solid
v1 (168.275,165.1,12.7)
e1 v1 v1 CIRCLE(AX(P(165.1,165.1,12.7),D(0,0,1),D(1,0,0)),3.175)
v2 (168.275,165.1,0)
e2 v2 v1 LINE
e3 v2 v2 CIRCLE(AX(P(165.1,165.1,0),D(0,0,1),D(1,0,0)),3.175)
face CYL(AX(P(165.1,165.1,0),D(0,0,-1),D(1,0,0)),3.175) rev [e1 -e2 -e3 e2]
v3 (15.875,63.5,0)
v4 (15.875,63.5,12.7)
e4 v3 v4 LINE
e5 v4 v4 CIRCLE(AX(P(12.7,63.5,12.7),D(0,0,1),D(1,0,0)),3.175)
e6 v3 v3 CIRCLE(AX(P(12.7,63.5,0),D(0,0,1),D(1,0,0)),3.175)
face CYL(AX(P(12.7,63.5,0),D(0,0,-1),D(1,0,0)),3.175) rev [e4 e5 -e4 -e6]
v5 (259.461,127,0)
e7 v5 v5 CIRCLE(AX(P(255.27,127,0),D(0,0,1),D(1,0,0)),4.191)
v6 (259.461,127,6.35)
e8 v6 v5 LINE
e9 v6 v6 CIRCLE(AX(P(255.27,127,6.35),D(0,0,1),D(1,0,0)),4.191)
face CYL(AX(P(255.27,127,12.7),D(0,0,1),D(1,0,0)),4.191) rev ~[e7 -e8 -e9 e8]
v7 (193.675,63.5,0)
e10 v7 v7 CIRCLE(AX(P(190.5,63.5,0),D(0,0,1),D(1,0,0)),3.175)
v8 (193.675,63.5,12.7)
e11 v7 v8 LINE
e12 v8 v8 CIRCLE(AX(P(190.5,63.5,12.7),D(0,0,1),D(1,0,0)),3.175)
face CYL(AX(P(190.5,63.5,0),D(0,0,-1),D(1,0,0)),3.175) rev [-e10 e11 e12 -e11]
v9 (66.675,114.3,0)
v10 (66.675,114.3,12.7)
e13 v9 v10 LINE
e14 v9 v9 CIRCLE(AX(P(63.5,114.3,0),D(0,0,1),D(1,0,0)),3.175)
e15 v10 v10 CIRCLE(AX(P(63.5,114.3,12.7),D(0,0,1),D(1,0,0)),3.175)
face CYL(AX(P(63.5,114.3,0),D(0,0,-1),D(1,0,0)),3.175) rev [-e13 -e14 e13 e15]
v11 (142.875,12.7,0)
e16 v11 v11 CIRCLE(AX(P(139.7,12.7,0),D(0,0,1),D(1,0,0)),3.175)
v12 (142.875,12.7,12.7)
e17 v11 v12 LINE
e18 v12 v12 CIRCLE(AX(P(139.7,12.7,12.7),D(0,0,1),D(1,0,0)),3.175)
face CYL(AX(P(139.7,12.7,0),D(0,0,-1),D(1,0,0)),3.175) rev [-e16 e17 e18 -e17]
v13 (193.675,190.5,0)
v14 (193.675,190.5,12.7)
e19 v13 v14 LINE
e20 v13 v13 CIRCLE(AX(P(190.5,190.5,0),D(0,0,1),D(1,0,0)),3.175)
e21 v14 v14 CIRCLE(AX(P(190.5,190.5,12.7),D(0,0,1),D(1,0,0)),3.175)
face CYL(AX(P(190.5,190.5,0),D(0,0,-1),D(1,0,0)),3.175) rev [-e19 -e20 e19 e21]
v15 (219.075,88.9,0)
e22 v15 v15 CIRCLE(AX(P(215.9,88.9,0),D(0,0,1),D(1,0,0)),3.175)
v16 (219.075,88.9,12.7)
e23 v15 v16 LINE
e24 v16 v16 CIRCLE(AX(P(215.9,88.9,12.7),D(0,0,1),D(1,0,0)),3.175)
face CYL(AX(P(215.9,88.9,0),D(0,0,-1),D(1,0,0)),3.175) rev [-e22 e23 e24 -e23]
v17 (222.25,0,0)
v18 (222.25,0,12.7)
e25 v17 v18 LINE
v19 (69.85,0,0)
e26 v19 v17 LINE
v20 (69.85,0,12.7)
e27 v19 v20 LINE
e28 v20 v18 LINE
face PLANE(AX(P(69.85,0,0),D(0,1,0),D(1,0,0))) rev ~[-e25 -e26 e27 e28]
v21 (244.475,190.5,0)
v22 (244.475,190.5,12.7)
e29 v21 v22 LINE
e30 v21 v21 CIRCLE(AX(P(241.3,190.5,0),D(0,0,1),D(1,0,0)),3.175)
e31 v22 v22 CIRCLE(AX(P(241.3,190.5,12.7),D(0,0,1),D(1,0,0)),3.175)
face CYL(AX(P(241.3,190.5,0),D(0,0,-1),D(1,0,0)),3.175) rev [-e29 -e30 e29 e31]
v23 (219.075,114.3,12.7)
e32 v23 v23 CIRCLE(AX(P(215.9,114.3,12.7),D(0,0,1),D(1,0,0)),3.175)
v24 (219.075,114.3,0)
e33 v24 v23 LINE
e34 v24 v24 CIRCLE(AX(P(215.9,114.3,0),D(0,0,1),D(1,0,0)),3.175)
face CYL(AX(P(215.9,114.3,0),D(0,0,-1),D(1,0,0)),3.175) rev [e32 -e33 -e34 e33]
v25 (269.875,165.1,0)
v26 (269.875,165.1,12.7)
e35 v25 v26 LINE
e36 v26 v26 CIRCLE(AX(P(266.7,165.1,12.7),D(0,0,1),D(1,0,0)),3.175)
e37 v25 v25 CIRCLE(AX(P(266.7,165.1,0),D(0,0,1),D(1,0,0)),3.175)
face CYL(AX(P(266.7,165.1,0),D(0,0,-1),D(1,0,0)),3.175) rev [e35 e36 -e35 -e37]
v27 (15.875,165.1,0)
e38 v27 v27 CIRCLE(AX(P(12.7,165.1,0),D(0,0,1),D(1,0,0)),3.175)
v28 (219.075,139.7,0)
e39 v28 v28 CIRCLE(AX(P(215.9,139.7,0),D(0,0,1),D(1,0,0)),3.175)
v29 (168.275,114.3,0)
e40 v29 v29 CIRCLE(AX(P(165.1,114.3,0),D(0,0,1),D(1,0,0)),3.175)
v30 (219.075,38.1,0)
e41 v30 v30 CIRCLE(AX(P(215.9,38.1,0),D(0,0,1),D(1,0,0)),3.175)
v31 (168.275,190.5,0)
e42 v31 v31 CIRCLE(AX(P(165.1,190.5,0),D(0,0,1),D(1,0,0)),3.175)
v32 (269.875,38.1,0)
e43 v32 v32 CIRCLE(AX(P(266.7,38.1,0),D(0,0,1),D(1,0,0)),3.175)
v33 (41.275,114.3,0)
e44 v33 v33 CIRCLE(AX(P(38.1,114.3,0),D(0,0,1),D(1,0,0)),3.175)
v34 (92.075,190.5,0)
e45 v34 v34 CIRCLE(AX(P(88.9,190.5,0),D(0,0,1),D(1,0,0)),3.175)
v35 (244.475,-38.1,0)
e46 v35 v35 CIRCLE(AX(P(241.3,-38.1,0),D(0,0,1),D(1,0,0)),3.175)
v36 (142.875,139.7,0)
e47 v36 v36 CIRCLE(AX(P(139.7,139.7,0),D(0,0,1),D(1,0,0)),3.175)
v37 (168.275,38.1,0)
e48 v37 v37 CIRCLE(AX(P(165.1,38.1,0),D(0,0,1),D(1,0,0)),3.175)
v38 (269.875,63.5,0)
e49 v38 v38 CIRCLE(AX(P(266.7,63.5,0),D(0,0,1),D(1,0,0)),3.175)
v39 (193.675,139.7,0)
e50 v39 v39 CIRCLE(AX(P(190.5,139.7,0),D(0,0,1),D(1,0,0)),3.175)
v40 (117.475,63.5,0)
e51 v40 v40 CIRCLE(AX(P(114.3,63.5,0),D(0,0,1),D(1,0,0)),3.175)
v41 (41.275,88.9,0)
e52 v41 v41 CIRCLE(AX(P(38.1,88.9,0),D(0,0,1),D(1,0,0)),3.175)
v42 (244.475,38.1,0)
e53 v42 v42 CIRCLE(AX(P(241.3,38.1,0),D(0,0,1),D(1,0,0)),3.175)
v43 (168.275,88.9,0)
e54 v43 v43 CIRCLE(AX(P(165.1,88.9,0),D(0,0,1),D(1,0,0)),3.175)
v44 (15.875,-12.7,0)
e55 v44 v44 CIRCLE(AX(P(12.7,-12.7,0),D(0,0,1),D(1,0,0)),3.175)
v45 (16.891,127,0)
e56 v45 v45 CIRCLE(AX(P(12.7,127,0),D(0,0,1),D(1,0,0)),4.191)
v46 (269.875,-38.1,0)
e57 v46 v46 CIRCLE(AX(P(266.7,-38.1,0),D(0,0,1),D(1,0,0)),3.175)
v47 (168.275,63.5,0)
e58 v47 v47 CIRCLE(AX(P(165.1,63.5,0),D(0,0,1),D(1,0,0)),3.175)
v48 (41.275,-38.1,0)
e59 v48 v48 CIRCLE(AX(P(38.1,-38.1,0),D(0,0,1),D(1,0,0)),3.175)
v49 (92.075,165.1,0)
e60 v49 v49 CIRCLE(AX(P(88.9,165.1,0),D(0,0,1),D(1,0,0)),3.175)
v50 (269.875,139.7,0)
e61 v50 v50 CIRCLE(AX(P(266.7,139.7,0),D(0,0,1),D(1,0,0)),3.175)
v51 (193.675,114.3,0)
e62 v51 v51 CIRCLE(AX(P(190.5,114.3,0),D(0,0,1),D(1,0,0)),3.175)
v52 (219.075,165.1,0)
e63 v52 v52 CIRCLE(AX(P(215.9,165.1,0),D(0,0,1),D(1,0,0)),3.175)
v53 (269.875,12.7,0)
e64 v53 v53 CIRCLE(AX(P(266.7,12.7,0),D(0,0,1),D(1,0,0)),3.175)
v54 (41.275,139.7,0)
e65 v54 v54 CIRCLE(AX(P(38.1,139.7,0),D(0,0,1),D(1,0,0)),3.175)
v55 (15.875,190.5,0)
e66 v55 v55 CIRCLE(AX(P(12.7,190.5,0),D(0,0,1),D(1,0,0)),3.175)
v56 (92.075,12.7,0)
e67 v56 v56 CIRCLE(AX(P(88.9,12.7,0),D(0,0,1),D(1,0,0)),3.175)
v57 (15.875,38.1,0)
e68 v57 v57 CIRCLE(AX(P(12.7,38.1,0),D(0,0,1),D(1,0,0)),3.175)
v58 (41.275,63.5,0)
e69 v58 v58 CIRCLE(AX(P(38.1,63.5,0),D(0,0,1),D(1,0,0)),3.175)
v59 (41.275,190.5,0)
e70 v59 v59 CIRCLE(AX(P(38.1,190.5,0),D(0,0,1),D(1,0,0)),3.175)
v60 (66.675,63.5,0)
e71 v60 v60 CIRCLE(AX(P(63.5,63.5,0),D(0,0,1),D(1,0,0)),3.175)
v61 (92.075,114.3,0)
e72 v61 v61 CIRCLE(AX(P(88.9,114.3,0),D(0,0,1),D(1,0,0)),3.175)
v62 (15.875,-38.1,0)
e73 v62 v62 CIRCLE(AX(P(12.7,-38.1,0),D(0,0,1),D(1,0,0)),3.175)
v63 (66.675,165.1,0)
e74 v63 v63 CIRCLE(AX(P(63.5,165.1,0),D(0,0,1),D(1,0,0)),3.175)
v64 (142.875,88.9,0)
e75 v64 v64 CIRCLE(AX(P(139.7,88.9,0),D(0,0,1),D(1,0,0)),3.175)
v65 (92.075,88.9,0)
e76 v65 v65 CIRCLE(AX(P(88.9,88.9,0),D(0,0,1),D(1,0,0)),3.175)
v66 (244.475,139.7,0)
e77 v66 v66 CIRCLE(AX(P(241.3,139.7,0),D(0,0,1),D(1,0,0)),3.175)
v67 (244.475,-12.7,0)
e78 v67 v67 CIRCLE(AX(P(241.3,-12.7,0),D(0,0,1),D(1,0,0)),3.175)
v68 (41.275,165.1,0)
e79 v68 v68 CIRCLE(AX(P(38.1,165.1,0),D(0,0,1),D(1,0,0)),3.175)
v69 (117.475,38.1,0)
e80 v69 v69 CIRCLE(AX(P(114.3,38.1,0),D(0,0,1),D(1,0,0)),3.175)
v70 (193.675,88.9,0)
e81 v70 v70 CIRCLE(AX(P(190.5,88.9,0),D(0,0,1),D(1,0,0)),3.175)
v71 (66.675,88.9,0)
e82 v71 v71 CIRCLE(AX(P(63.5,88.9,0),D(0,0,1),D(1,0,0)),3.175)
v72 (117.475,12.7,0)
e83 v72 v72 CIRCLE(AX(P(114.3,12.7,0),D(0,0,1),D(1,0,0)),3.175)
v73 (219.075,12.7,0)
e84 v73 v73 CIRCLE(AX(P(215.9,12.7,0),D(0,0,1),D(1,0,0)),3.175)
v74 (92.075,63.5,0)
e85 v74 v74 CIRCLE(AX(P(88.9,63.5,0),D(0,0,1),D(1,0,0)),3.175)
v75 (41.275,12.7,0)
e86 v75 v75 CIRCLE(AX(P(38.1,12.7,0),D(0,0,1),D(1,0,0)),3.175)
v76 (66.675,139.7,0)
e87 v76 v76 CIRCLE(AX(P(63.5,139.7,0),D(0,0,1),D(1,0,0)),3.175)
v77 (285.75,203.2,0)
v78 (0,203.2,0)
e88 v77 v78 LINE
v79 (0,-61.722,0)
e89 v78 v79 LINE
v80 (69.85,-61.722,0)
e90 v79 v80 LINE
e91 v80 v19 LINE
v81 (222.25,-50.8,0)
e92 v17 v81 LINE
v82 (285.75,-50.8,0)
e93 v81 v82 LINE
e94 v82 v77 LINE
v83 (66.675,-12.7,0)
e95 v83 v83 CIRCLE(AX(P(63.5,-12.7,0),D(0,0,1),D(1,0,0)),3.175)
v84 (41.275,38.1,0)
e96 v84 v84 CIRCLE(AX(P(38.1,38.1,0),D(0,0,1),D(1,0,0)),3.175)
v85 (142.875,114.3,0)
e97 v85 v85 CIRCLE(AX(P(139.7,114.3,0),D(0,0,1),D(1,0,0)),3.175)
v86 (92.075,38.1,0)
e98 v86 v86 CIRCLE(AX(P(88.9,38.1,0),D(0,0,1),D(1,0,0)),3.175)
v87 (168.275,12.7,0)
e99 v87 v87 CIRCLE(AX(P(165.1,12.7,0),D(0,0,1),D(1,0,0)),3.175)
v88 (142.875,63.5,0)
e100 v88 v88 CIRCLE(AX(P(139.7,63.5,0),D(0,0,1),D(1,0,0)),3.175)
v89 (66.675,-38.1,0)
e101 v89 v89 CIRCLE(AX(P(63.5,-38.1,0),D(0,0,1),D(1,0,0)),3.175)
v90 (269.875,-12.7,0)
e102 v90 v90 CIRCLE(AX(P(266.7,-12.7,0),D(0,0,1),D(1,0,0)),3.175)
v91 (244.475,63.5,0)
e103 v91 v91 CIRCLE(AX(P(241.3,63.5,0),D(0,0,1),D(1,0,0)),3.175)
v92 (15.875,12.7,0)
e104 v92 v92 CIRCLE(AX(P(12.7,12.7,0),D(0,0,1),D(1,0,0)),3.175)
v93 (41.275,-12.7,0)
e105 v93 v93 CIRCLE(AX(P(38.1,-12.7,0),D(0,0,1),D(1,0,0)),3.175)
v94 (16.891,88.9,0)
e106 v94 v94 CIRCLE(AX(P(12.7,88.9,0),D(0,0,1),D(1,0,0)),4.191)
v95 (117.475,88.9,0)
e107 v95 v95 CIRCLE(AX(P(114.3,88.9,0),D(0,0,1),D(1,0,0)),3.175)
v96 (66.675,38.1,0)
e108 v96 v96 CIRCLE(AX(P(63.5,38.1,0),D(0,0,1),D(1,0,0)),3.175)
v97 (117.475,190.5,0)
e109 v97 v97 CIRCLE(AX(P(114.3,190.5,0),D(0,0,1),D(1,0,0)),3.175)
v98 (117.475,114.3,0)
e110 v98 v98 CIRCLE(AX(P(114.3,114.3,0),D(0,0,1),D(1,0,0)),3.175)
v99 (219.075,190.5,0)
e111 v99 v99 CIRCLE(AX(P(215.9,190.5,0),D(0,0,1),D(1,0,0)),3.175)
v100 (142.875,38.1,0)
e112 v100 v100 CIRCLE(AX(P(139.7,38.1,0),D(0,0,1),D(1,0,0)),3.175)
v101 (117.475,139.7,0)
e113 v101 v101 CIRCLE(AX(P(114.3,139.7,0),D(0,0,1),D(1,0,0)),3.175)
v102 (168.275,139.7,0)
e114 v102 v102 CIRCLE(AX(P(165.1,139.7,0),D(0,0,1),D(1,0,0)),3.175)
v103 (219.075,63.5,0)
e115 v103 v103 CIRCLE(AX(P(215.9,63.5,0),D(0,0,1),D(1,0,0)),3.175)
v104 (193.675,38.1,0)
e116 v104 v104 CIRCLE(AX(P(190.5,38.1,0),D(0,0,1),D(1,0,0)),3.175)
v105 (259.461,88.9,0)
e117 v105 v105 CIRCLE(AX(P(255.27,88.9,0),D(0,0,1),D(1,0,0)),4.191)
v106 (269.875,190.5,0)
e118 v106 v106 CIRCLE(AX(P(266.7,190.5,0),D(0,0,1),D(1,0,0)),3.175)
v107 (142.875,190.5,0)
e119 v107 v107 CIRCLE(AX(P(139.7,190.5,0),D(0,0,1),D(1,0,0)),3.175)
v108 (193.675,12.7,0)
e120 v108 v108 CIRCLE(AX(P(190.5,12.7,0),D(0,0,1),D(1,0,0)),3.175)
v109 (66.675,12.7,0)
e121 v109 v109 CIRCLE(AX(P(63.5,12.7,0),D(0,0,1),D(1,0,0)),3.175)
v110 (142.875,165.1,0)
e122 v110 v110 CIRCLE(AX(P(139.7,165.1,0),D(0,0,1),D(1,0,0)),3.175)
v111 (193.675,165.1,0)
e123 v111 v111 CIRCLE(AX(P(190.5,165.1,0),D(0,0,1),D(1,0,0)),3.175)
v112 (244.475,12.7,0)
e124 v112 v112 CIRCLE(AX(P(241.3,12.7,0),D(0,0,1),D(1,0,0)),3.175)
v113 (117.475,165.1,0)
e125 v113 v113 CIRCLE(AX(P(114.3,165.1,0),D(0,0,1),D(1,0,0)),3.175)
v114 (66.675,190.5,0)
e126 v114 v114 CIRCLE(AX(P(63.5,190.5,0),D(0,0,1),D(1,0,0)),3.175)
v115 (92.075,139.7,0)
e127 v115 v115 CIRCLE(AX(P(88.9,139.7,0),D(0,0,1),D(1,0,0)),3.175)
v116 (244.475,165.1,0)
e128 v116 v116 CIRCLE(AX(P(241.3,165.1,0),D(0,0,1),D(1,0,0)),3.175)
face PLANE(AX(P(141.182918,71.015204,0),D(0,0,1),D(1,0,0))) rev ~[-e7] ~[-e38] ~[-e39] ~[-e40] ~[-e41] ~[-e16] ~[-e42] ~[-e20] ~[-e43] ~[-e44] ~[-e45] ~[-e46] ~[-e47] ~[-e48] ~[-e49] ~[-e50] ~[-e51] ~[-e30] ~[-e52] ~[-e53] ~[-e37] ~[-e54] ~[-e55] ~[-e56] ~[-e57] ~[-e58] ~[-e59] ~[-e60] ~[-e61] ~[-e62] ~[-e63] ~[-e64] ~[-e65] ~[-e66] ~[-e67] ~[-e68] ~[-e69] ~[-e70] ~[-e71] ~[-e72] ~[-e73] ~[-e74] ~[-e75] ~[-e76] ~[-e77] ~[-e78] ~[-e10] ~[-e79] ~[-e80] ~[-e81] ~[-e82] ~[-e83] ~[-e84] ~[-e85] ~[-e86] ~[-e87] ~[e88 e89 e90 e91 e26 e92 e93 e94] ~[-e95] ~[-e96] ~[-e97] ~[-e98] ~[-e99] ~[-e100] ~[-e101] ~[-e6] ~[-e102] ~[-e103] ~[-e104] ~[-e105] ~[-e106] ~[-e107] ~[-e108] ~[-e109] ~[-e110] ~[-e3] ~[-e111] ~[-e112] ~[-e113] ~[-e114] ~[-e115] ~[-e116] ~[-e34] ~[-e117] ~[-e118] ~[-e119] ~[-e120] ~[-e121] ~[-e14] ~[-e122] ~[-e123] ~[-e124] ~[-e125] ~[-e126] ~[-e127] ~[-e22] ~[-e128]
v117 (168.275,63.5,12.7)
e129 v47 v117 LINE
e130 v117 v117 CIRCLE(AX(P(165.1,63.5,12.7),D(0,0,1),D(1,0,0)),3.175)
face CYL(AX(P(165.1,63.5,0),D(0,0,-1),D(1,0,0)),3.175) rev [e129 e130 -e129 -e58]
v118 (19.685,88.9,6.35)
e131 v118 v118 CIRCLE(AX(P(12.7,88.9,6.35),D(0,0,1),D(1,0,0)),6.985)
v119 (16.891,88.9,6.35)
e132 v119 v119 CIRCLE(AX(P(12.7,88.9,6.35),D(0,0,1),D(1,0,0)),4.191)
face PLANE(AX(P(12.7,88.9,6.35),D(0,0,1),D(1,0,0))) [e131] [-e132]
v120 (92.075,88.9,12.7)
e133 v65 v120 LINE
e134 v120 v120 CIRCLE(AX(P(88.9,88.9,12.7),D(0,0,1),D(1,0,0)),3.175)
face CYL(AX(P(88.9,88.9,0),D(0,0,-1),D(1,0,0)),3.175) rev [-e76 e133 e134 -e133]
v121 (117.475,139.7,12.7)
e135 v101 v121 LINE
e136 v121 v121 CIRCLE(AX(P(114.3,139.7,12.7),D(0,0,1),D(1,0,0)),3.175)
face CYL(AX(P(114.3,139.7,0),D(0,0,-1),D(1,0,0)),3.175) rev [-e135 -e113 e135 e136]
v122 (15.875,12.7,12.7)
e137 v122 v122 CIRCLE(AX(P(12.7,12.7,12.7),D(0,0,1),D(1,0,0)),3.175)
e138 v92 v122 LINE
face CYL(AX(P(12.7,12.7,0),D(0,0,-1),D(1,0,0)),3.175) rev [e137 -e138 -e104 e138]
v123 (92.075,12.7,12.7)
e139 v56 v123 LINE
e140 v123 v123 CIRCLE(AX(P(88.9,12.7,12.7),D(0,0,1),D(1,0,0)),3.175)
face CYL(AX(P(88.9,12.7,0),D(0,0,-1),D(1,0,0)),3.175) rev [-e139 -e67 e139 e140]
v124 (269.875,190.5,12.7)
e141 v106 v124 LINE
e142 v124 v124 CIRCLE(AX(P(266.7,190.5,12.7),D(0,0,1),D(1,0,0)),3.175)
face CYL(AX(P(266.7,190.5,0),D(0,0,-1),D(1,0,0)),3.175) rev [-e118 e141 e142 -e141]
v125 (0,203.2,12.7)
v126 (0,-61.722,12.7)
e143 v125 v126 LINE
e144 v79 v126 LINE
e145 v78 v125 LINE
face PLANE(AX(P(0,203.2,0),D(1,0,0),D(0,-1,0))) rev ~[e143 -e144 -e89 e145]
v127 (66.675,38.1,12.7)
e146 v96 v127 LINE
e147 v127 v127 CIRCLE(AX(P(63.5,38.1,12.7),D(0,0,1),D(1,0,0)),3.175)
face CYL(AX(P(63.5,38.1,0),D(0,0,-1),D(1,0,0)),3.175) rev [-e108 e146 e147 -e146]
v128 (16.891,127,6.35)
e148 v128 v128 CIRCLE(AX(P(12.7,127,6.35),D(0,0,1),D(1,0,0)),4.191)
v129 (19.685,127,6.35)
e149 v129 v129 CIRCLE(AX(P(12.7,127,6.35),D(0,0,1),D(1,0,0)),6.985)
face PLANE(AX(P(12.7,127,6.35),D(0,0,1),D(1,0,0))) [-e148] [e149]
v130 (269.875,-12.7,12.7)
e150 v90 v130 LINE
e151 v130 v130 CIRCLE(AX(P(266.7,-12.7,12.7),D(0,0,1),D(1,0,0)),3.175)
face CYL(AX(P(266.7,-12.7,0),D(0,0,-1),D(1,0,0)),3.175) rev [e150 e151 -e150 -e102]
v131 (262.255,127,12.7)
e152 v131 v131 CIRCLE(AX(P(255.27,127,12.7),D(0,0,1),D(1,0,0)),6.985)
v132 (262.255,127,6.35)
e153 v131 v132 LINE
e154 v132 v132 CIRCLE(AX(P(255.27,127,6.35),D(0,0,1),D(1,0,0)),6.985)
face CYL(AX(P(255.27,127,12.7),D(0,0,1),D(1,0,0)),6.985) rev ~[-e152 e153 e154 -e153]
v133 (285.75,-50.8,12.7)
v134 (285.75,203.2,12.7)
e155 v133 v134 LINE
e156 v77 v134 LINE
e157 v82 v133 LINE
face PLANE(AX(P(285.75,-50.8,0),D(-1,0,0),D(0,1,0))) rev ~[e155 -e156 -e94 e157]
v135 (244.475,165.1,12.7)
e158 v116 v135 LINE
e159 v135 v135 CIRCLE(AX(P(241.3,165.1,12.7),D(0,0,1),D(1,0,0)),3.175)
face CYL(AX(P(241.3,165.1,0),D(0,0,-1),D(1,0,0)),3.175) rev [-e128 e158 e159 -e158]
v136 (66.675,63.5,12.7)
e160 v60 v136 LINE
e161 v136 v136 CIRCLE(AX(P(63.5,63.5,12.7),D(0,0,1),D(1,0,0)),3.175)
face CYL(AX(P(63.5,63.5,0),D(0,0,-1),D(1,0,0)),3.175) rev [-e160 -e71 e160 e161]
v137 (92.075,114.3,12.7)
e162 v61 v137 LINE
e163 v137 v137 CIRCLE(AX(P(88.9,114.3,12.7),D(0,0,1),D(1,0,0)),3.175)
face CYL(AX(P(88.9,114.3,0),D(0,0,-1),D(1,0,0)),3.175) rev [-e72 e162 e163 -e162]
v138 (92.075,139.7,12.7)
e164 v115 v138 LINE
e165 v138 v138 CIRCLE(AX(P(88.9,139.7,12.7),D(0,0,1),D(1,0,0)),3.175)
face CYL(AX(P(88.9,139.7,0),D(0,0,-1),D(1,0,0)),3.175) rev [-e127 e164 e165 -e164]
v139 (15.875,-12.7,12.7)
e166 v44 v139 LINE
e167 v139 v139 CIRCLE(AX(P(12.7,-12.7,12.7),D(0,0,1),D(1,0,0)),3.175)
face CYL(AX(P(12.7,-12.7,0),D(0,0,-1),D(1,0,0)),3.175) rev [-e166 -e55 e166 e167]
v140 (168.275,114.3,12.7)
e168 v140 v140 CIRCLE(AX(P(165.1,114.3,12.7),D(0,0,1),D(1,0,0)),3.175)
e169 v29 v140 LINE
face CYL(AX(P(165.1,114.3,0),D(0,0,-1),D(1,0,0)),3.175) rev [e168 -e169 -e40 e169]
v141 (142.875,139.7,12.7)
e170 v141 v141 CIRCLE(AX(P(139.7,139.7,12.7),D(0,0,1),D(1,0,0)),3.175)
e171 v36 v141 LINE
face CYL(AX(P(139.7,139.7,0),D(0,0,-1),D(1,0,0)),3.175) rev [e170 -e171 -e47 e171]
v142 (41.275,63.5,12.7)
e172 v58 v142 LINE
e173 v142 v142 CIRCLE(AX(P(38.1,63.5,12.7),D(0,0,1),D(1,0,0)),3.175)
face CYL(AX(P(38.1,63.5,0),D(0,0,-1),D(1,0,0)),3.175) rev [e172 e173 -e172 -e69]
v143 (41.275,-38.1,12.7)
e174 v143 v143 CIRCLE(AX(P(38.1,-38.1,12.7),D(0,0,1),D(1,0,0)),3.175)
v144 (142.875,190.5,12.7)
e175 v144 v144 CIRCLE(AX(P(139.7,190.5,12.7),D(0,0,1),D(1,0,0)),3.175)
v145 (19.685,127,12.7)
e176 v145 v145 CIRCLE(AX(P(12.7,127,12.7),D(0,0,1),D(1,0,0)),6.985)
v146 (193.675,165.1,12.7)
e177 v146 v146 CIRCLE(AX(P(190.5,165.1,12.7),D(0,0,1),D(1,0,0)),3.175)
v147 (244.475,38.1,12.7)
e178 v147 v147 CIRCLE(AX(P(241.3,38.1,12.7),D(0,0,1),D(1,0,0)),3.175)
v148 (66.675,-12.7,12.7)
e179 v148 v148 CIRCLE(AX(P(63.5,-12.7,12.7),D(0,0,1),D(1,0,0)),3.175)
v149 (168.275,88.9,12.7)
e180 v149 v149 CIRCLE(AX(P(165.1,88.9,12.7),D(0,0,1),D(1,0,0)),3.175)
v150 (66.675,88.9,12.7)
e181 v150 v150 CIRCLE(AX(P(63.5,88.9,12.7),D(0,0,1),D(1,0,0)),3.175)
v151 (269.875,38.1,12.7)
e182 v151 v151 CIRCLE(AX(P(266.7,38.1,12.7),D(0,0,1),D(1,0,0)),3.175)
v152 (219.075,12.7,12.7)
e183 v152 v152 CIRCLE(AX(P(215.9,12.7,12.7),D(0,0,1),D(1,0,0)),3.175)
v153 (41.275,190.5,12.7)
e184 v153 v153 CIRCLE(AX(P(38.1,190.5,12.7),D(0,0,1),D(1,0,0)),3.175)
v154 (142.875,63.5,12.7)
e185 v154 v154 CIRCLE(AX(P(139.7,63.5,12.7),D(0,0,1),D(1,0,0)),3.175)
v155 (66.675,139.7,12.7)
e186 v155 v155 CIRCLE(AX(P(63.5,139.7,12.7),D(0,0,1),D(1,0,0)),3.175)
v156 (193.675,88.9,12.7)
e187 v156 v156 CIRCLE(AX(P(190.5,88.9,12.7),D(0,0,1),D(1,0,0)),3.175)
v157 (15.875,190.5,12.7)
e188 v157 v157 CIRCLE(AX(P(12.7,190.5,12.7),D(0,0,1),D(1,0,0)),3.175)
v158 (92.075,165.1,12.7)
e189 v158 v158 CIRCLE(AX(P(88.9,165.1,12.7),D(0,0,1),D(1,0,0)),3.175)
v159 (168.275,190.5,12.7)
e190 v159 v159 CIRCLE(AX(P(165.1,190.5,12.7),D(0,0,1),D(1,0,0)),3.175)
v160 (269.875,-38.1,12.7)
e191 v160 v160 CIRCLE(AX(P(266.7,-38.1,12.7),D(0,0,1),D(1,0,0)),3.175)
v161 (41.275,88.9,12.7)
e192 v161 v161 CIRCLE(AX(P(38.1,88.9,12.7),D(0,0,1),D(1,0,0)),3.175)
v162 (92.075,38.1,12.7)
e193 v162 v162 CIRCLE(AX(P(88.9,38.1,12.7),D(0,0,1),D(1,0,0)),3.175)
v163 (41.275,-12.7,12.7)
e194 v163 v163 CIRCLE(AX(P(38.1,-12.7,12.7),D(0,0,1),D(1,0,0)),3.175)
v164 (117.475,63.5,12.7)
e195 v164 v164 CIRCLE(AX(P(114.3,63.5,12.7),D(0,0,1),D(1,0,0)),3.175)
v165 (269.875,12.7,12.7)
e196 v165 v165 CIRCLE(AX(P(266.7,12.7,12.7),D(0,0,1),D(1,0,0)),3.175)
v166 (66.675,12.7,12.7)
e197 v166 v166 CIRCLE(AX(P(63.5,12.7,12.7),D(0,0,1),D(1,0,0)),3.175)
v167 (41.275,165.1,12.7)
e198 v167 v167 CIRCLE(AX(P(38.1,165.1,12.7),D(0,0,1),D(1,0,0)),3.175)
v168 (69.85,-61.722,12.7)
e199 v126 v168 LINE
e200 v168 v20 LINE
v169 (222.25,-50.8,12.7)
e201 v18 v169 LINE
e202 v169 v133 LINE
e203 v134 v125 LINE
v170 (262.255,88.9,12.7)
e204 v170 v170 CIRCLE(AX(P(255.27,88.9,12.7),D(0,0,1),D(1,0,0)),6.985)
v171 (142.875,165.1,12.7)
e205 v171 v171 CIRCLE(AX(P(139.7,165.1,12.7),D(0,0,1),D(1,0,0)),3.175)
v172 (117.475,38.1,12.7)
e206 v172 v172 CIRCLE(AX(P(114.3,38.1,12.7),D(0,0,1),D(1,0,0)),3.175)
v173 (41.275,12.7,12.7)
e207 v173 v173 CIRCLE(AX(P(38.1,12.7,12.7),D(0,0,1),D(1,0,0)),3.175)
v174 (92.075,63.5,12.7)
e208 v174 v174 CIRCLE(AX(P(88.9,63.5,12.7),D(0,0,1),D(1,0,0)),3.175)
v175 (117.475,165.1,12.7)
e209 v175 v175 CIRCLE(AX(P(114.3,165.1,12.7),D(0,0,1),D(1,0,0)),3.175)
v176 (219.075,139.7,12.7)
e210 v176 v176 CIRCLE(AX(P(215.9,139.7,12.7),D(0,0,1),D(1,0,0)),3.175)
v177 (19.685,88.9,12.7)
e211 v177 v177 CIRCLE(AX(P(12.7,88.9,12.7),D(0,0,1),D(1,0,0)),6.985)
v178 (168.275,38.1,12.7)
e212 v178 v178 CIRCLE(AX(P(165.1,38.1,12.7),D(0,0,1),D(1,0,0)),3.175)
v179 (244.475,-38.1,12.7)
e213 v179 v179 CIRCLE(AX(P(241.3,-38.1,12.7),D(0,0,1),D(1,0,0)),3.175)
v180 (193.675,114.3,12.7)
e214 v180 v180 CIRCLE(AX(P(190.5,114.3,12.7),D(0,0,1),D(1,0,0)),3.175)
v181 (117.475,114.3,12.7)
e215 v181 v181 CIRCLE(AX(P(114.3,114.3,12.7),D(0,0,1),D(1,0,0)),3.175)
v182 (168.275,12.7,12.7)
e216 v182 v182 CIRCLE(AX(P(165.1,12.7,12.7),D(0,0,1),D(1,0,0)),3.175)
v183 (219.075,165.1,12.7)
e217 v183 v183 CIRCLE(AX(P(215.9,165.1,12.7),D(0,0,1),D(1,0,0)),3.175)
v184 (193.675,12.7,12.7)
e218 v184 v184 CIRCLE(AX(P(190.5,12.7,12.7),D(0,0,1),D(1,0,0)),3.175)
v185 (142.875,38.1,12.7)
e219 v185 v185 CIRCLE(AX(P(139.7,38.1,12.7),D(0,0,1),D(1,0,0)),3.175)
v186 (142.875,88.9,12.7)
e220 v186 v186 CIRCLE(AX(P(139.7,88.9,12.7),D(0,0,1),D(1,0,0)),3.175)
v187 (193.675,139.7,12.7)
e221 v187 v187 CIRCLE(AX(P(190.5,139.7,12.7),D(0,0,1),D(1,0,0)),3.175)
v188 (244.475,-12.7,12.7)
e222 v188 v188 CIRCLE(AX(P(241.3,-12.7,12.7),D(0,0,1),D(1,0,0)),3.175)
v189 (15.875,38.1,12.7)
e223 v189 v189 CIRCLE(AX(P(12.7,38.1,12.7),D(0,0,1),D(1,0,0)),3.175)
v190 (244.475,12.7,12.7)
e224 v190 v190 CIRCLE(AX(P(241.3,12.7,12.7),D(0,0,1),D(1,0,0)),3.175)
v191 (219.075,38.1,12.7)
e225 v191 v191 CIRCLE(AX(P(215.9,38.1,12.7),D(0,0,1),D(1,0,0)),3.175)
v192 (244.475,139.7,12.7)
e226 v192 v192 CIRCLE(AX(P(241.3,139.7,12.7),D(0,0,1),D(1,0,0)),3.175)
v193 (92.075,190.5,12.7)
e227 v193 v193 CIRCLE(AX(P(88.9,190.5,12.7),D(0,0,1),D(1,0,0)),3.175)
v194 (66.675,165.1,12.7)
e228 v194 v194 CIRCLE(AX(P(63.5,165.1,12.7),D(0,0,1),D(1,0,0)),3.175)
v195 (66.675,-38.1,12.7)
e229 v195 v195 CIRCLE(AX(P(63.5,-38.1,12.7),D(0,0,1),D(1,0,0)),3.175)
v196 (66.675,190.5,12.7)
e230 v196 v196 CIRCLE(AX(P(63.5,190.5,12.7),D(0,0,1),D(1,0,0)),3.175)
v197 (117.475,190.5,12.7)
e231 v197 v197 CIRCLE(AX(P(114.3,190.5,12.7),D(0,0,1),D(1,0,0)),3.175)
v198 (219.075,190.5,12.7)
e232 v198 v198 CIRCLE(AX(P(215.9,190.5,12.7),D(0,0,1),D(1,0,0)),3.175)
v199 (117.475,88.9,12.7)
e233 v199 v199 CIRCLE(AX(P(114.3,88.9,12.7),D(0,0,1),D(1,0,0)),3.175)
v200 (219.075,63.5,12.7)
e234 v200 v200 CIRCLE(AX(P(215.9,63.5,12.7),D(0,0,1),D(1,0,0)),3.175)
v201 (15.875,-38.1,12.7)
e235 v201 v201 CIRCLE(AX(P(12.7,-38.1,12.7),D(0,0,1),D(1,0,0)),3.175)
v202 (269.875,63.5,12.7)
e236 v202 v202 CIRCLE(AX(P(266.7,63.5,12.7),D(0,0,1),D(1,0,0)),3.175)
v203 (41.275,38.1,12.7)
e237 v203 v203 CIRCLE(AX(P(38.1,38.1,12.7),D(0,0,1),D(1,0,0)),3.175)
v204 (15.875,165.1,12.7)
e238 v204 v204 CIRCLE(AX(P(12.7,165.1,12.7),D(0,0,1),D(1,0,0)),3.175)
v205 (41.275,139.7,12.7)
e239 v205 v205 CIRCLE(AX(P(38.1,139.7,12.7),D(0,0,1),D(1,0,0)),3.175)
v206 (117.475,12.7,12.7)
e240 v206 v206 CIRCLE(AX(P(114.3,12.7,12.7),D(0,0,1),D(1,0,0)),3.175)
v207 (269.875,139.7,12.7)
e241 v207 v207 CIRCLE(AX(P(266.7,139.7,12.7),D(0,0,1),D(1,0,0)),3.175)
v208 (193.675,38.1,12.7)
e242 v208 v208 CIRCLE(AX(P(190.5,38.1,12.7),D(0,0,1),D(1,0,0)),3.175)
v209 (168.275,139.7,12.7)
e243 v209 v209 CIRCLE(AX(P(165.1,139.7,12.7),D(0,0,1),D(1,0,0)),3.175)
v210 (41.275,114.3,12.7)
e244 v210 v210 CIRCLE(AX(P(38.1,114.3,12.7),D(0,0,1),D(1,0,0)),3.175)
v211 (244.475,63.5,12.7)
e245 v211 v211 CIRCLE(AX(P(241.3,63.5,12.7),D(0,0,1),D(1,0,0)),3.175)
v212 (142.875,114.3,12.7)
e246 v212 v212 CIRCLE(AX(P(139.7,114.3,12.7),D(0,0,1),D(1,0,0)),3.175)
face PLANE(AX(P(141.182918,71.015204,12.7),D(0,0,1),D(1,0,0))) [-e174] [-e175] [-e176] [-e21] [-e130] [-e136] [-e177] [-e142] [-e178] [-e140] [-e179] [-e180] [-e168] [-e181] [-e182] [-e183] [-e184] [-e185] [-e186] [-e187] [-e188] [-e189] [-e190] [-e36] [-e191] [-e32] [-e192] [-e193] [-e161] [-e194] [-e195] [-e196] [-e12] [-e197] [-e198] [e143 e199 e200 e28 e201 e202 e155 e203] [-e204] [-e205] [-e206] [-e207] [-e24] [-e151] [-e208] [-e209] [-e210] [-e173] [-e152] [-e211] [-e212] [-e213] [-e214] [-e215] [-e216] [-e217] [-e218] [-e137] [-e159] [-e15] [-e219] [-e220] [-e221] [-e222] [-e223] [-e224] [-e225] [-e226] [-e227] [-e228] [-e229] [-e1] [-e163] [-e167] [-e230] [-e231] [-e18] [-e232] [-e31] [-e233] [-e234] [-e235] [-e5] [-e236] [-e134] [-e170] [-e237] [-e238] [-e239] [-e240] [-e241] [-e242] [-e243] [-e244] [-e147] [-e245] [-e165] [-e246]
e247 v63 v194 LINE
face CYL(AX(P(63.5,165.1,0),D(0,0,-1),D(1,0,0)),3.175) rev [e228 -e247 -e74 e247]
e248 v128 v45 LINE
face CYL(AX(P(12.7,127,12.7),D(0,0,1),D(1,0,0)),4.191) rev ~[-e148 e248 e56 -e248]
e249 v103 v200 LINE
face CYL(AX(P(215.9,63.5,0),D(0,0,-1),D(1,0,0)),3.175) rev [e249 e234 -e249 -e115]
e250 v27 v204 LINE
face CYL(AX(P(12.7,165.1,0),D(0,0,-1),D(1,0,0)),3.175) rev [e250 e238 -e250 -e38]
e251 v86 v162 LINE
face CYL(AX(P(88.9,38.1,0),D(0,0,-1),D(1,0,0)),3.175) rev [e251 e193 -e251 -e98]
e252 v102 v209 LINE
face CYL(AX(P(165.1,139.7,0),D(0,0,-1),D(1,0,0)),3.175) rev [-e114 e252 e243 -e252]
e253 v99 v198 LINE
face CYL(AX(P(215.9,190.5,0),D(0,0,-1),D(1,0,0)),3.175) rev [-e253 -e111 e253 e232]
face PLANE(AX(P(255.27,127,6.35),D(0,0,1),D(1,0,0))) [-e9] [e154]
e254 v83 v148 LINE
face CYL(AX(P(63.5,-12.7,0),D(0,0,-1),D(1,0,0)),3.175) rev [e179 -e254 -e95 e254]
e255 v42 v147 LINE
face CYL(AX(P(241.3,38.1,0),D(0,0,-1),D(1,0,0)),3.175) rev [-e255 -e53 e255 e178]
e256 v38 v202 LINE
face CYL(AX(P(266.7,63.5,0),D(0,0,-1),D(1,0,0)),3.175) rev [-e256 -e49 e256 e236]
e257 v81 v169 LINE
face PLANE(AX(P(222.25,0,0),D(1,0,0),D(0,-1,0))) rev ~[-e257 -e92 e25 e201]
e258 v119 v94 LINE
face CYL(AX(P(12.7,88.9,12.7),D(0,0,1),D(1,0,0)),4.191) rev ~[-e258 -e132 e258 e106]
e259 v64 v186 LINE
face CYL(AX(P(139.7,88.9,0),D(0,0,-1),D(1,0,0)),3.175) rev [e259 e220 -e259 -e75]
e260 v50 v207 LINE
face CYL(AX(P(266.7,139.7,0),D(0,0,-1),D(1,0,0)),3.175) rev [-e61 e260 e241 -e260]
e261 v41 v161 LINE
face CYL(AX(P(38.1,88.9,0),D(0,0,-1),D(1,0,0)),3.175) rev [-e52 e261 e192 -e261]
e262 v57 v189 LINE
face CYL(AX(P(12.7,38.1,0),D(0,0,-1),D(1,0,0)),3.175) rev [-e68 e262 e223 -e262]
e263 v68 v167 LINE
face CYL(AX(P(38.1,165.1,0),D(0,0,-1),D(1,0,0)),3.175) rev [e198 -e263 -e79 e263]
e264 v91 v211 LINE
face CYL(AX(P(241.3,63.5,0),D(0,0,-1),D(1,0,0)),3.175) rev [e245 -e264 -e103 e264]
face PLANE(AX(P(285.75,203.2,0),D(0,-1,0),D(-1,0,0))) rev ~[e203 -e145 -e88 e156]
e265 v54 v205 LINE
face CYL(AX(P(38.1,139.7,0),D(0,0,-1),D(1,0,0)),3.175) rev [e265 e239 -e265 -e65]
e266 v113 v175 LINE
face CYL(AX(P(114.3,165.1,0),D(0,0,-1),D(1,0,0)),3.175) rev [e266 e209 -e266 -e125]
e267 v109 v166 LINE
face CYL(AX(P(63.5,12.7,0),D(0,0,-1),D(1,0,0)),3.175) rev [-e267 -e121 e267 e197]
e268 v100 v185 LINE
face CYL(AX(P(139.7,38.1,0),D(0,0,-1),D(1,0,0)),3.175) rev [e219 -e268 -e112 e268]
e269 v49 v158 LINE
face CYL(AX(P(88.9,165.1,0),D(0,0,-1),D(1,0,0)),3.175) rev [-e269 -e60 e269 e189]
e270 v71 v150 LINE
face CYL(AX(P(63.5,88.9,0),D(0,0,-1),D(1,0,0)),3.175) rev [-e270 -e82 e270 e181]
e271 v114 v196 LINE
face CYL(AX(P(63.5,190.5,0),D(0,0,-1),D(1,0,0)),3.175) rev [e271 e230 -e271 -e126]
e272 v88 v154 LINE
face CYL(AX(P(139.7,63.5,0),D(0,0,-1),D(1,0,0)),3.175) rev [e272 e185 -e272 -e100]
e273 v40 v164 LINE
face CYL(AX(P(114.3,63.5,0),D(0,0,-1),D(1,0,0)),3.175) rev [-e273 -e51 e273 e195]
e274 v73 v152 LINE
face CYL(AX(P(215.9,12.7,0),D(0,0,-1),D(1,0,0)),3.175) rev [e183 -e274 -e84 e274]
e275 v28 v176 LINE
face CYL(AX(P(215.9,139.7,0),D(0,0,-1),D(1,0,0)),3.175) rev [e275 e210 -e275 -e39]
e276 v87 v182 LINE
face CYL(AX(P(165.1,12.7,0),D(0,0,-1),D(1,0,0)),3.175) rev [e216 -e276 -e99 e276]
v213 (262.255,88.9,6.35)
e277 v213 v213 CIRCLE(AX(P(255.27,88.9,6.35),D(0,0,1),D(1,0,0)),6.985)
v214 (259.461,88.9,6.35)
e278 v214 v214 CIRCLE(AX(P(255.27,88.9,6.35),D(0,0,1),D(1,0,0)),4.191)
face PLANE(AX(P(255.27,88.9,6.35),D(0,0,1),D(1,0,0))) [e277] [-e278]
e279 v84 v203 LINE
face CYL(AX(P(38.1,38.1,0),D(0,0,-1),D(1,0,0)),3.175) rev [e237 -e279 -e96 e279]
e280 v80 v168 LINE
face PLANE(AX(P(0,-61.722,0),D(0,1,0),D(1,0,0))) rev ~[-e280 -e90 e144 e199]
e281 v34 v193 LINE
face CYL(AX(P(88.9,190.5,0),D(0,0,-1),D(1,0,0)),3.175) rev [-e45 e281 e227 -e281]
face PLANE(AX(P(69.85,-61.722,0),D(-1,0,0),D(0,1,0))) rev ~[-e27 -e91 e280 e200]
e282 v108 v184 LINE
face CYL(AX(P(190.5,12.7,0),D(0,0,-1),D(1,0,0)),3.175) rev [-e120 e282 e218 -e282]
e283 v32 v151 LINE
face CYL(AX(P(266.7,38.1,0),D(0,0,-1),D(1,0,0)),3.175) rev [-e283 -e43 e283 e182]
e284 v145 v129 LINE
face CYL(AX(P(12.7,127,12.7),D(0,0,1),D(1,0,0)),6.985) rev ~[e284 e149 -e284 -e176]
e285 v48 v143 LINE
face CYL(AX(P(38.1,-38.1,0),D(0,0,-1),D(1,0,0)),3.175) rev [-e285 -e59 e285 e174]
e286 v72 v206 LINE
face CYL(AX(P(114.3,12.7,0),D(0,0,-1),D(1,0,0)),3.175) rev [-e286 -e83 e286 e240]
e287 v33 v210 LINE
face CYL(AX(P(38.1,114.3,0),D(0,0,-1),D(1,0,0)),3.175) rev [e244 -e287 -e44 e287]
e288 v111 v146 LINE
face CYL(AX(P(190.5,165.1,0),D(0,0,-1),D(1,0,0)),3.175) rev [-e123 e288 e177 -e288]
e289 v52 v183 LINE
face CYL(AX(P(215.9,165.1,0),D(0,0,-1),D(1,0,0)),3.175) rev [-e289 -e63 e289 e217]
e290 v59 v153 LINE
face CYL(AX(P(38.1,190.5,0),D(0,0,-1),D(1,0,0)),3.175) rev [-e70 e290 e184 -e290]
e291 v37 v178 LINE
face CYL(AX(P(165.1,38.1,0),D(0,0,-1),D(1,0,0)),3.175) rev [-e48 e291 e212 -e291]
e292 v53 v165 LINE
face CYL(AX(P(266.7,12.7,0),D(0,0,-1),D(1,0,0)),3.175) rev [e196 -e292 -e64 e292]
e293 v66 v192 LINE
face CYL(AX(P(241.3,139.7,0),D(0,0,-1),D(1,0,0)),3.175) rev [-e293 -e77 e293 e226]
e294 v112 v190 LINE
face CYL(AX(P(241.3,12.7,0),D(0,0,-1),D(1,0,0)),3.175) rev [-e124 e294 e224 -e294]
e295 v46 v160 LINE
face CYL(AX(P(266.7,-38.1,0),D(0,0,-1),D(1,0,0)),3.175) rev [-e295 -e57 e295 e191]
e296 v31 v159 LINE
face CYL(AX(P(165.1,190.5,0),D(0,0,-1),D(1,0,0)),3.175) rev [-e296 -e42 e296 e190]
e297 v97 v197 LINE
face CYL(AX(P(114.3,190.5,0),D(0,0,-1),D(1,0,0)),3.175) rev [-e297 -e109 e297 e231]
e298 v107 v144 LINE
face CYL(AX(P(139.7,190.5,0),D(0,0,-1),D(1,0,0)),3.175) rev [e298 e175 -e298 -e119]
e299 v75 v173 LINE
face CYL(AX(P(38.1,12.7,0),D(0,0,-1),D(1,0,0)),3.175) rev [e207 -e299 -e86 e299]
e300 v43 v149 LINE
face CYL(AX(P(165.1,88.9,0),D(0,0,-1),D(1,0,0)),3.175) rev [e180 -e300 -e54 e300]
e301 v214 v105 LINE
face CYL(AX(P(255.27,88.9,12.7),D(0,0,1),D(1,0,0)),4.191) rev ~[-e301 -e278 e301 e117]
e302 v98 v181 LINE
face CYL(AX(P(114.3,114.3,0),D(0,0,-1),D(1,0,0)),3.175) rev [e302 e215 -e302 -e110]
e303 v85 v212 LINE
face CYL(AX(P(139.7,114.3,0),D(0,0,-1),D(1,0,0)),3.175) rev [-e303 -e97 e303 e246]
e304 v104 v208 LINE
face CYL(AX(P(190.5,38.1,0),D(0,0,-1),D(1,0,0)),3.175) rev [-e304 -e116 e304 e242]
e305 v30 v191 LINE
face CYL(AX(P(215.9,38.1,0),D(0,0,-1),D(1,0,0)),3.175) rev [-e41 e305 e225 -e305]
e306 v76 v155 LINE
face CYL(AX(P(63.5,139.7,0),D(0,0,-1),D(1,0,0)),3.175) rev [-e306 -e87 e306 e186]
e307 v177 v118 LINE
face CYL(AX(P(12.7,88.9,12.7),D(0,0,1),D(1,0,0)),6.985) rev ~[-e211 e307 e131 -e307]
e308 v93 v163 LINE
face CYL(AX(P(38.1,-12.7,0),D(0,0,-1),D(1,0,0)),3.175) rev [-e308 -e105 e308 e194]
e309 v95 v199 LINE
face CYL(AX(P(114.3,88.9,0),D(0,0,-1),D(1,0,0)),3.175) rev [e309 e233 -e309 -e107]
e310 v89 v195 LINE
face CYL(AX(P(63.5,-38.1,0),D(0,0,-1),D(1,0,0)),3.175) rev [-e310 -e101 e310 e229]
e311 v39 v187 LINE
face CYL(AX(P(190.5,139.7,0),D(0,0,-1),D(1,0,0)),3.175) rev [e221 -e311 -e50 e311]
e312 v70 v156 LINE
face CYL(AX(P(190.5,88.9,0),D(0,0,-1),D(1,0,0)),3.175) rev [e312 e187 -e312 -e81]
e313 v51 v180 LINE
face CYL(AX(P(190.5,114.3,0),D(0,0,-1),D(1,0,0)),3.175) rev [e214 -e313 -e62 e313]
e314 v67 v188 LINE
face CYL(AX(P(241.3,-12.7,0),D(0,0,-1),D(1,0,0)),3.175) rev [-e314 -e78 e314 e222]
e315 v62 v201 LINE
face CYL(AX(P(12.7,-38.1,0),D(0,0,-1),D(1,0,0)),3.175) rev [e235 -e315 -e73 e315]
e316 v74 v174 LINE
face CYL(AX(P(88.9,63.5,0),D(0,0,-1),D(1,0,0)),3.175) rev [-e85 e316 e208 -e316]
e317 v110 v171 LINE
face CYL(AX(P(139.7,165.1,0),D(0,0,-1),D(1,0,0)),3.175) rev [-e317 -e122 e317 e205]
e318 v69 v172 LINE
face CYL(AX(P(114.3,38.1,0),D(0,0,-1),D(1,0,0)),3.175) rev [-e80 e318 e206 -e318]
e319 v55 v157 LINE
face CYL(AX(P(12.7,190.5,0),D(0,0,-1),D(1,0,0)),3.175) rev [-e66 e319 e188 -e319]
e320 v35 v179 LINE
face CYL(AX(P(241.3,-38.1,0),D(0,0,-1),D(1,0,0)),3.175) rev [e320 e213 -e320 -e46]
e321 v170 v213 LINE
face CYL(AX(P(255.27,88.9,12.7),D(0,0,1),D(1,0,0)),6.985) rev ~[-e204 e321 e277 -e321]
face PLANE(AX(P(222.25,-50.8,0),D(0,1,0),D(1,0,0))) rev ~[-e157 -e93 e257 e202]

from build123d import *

# Parameters (mm, degrees)
SKETCH1_R           = 3.175
BOSS_EXTRUDE2_DEPTH = 12.7
SKETCH3_R           = 6.985
SKETCH3_R_2         = 4.191
CUT_EXTRUDE1_DEPTH  = 6.35
SKETCH3_3_R         = 4.191
CUT_EXTRUDE2_DEPTH  = 12.7


with BuildPart() as part:
    # Sketch1 → Boss-Extrude2 (new body)
    with BuildSketch(Plane.XY):
        Polygon((69.85, 0), (222.25, 0), (222.25, -50.8), (285.75, -50.8), (285.75, 0), (285.75, 203.2), (0, 203.2), (0, 0), (0, -61.722), (69.85, -61.722), align=None)
        with Locations((12.7, 190.5)):
            Circle(SKETCH1_R, mode=Mode.SUBTRACT)
        with Locations((38.1, 190.5)):
            Circle(SKETCH1_R, mode=Mode.SUBTRACT)
        with Locations((63.5, 190.5)):
            Circle(SKETCH1_R, mode=Mode.SUBTRACT)
        with Locations((88.9, 190.5)):
            Circle(SKETCH1_R, mode=Mode.SUBTRACT)
        with Locations((114.3, 190.5)):
            Circle(SKETCH1_R, mode=Mode.SUBTRACT)
        with Locations((139.7, 190.5)):
            Circle(SKETCH1_R, mode=Mode.SUBTRACT)
        with Locations((165.1, 190.5)):
            Circle(SKETCH1_R, mode=Mode.SUBTRACT)
        with Locations((190.5, 190.5)):
            Circle(SKETCH1_R, mode=Mode.SUBTRACT)
        with Locations((215.9, 190.5)):
            Circle(SKETCH1_R, mode=Mode.SUBTRACT)
        with Locations((241.3, 190.5)):
            Circle(SKETCH1_R, mode=Mode.SUBTRACT)
        with Locations((266.7, 190.5)):
            Circle(SKETCH1_R, mode=Mode.SUBTRACT)
        with Locations((38.1, 165.1)):
            Circle(SKETCH1_R, mode=Mode.SUBTRACT)
        with Locations((63.5, 165.1)):
            Circle(SKETCH1_R, mode=Mode.SUBTRACT)
        with Locations((88.9, 165.1)):
            Circle(SKETCH1_R, mode=Mode.SUBTRACT)
        with Locations((114.3, 165.1)):
            Circle(SKETCH1_R, mode=Mode.SUBTRACT)
        with Locations((139.7, 165.1)):
            Circle(SKETCH1_R, mode=Mode.SUBTRACT)
        with Locations((165.1, 165.1)):
            Circle(SKETCH1_R, mode=Mode.SUBTRACT)
        with Locations((190.5, 165.1)):
            Circle(SKETCH1_R, mode=Mode.SUBTRACT)
        with Locations((215.9, 165.1)):
            Circle(SKETCH1_R, mode=Mode.SUBTRACT)
        with Locations((241.3, 165.1)):
            Circle(SKETCH1_R, mode=Mode.SUBTRACT)
        with Locations((266.7, 165.1)):
            Circle(SKETCH1_R, mode=Mode.SUBTRACT)
        with Locations((38.1, 139.7)):
            Circle(SKETCH1_R, mode=Mode.SUBTRACT)
        with Locations((63.5, 139.7)):
            Circle(SKETCH1_R, mode=Mode.SUBTRACT)
        with Locations((88.9, 139.7)):
            Circle(SKETCH1_R, mode=Mode.SUBTRACT)
        with Locations((114.3, 139.7)):
            Circle(SKETCH1_R, mode=Mode.SUBTRACT)
        with Locations((139.7, 139.7)):
            Circle(SKETCH1_R, mode=Mode.SUBTRACT)
        with Locations((165.1, 139.7)):
            Circle(SKETCH1_R, mode=Mode.SUBTRACT)
        with Locations((190.5, 139.7)):
            Circle(SKETCH1_R, mode=Mode.SUBTRACT)
        with Locations((215.9, 139.7)):
            Circle(SKETCH1_R, mode=Mode.SUBTRACT)
        with Locations((241.3, 139.7)):
            Circle(SKETCH1_R, mode=Mode.SUBTRACT)
        with Locations((266.7, 139.7)):
            Circle(SKETCH1_R, mode=Mode.SUBTRACT)
        with Locations((38.1, 114.3)):
            Circle(SKETCH1_R, mode=Mode.SUBTRACT)
        with Locations((63.5, 114.3)):
            Circle(SKETCH1_R, mode=Mode.SUBTRACT)
        with Locations((88.9, 114.3)):
            Circle(SKETCH1_R, mode=Mode.SUBTRACT)
        with Locations((114.3, 114.3)):
            Circle(SKETCH1_R, mode=Mode.SUBTRACT)
        with Locations((139.7, 114.3)):
            Circle(SKETCH1_R, mode=Mode.SUBTRACT)
        with Locations((165.1, 114.3)):
            Circle(SKETCH1_R, mode=Mode.SUBTRACT)
        with Locations((190.5, 114.3)):
            Circle(SKETCH1_R, mode=Mode.SUBTRACT)
        with Locations((215.9, 114.3)):
            Circle(SKETCH1_R, mode=Mode.SUBTRACT)
        with Locations((38.1, 88.9)):
            Circle(SKETCH1_R, mode=Mode.SUBTRACT)
        with Locations((63.5, 88.9)):
            Circle(SKETCH1_R, mode=Mode.SUBTRACT)
        with Locations((88.9, 88.9)):
            Circle(SKETCH1_R, mode=Mode.SUBTRACT)
        with Locations((114.3, 88.9)):
            Circle(SKETCH1_R, mode=Mode.SUBTRACT)
        with Locations((139.7, 88.9)):
            Circle(SKETCH1_R, mode=Mode.SUBTRACT)
        with Locations((165.1, 88.9)):
            Circle(SKETCH1_R, mode=Mode.SUBTRACT)
        with Locations((190.5, 88.9)):
            Circle(SKETCH1_R, mode=Mode.SUBTRACT)
        with Locations((215.9, 88.9)):
            Circle(SKETCH1_R, mode=Mode.SUBTRACT)
        with Locations((38.1, 63.5)):
            Circle(SKETCH1_R, mode=Mode.SUBTRACT)
        with Locations((63.5, 63.5)):
            Circle(SKETCH1_R, mode=Mode.SUBTRACT)
        with Locations((88.9, 63.5)):
            Circle(SKETCH1_R, mode=Mode.SUBTRACT)
        with Locations((114.3, 63.5)):
            Circle(SKETCH1_R, mode=Mode.SUBTRACT)
        with Locations((139.7, 63.5)):
            Circle(SKETCH1_R, mode=Mode.SUBTRACT)
        with Locations((165.1, 63.5)):
            Circle(SKETCH1_R, mode=Mode.SUBTRACT)
        with Locations((190.5, 63.5)):
            Circle(SKETCH1_R, mode=Mode.SUBTRACT)
        with Locations((215.9, 63.5)):
            Circle(SKETCH1_R, mode=Mode.SUBTRACT)
        with Locations((241.3, 63.5)):
            Circle(SKETCH1_R, mode=Mode.SUBTRACT)
        with Locations((266.7, 63.5)):
            Circle(SKETCH1_R, mode=Mode.SUBTRACT)
        with Locations((38.1, 38.1)):
            Circle(SKETCH1_R, mode=Mode.SUBTRACT)
        with Locations((63.5, 38.1)):
            Circle(SKETCH1_R, mode=Mode.SUBTRACT)
        with Locations((88.9, 38.1)):
            Circle(SKETCH1_R, mode=Mode.SUBTRACT)
        with Locations((114.3, 38.1)):
            Circle(SKETCH1_R, mode=Mode.SUBTRACT)
        with Locations((139.7, 38.1)):
            Circle(SKETCH1_R, mode=Mode.SUBTRACT)
        with Locations((165.1, 38.1)):
            Circle(SKETCH1_R, mode=Mode.SUBTRACT)
        with Locations((190.5, 38.1)):
            Circle(SKETCH1_R, mode=Mode.SUBTRACT)
        with Locations((215.9, 38.1)):
            Circle(SKETCH1_R, mode=Mode.SUBTRACT)
        with Locations((241.3, 38.1)):
            Circle(SKETCH1_R, mode=Mode.SUBTRACT)
        with Locations((38.1, 12.7)):
            Circle(SKETCH1_R, mode=Mode.SUBTRACT)
        with Locations((63.5, 12.7)):
            Circle(SKETCH1_R, mode=Mode.SUBTRACT)
        with Locations((88.9, 12.7)):
            Circle(SKETCH1_R, mode=Mode.SUBTRACT)
        with Locations((114.3, 12.7)):
            Circle(SKETCH1_R, mode=Mode.SUBTRACT)
        with Locations((139.7, 12.7)):
            Circle(SKETCH1_R, mode=Mode.SUBTRACT)
        with Locations((165.1, 12.7)):
            Circle(SKETCH1_R, mode=Mode.SUBTRACT)
        with Locations((190.5, 12.7)):
            Circle(SKETCH1_R, mode=Mode.SUBTRACT)
        with Locations((215.9, 12.7)):
            Circle(SKETCH1_R, mode=Mode.SUBTRACT)
        with Locations((241.3, 12.7)):
            Circle(SKETCH1_R, mode=Mode.SUBTRACT)
        with Locations((38.1, -12.7)):
            Circle(SKETCH1_R, mode=Mode.SUBTRACT)
        with Locations((63.5, -12.7)):
            Circle(SKETCH1_R, mode=Mode.SUBTRACT)
        with Locations((241.3, -12.7)):
            Circle(SKETCH1_R, mode=Mode.SUBTRACT)
        with Locations((266.7, -12.7)):
            Circle(SKETCH1_R, mode=Mode.SUBTRACT)
        with Locations((38.1, -38.1)):
            Circle(SKETCH1_R, mode=Mode.SUBTRACT)
        with Locations((63.5, -38.1)):
            Circle(SKETCH1_R, mode=Mode.SUBTRACT)
        with Locations((241.3, -38.1)):
            Circle(SKETCH1_R, mode=Mode.SUBTRACT)
        with Locations((266.7, -38.1)):
            Circle(SKETCH1_R, mode=Mode.SUBTRACT)
        with Locations((12.7, 165.1)):
            Circle(SKETCH1_R, mode=Mode.SUBTRACT)
        with Locations((12.7, 88.9)):
            Circle(SKETCH1_R, mode=Mode.SUBTRACT)
        with Locations((12.7, 63.5)):
            Circle(SKETCH1_R, mode=Mode.SUBTRACT)
        with Locations((12.7, 38.1)):
            Circle(SKETCH1_R, mode=Mode.SUBTRACT)
        with Locations((12.7, 12.7)):
            Circle(SKETCH1_R, mode=Mode.SUBTRACT)
        with Locations((12.7, -12.7)):
            Circle(SKETCH1_R, mode=Mode.SUBTRACT)
        with Locations((12.7, -38.1)):
            Circle(SKETCH1_R, mode=Mode.SUBTRACT)
        with Locations((266.7, 38.1)):
            Circle(SKETCH1_R, mode=Mode.SUBTRACT)
        with Locations((266.7, 12.7)):
            Circle(SKETCH1_R, mode=Mode.SUBTRACT)
    extrude(amount=BOSS_EXTRUDE2_DEPTH)

    # Sketch3 → Cut-Extrude1 (cut)
    # profile 1 of 4: a face of its own
    with BuildSketch(Plane.XY.offset(12.7)):
        with Locations((255.27, 127)):
            Circle(SKETCH3_R)
        with Locations((255.27, 127)):
            Circle(SKETCH3_R_2, mode=Mode.SUBTRACT)
    # profile 2 of 4: a face of its own
    with BuildSketch(Plane.XY.offset(12.7)):
        with Locations((255.27, 88.9)):
            Circle(SKETCH3_R)
        with Locations((255.27, 88.9)):
            Circle(SKETCH3_R_2, mode=Mode.SUBTRACT)
    # profile 3 of 4: a face of its own
    with BuildSketch(Plane.XY.offset(12.7)):
        with Locations((12.7, 127)):
            Circle(SKETCH3_R)
        with Locations((12.7, 127)):
            Circle(SKETCH3_R_2, mode=Mode.SUBTRACT)
    # profile 4 of 4: a face of its own
    with BuildSketch(Plane.XY.offset(12.7)):
        with Locations((12.7, 88.9)):
            Circle(SKETCH3_R)
        with Locations((12.7, 88.9)):
            Circle(SKETCH3_R_2, mode=Mode.SUBTRACT)
    extrude(amount=-CUT_EXTRUDE1_DEPTH, mode=Mode.SUBTRACT)

    # Sketch3<3> → Cut-Extrude2 (cut)
    with BuildSketch(Plane.XY.offset(12.7)):
        with Locations((255.27, 88.9)):
            Circle(SKETCH3_3_R)
        with Locations((255.27, 127)):
            Circle(SKETCH3_3_R)
        with Locations((12.7, 88.9)):
            Circle(SKETCH3_3_R)
        with Locations((12.7, 127)):
            Circle(SKETCH3_3_R)
    extrude(amount=-CUT_EXTRUDE2_DEPTH, mode=Mode.SUBTRACT)


solid = part.part
